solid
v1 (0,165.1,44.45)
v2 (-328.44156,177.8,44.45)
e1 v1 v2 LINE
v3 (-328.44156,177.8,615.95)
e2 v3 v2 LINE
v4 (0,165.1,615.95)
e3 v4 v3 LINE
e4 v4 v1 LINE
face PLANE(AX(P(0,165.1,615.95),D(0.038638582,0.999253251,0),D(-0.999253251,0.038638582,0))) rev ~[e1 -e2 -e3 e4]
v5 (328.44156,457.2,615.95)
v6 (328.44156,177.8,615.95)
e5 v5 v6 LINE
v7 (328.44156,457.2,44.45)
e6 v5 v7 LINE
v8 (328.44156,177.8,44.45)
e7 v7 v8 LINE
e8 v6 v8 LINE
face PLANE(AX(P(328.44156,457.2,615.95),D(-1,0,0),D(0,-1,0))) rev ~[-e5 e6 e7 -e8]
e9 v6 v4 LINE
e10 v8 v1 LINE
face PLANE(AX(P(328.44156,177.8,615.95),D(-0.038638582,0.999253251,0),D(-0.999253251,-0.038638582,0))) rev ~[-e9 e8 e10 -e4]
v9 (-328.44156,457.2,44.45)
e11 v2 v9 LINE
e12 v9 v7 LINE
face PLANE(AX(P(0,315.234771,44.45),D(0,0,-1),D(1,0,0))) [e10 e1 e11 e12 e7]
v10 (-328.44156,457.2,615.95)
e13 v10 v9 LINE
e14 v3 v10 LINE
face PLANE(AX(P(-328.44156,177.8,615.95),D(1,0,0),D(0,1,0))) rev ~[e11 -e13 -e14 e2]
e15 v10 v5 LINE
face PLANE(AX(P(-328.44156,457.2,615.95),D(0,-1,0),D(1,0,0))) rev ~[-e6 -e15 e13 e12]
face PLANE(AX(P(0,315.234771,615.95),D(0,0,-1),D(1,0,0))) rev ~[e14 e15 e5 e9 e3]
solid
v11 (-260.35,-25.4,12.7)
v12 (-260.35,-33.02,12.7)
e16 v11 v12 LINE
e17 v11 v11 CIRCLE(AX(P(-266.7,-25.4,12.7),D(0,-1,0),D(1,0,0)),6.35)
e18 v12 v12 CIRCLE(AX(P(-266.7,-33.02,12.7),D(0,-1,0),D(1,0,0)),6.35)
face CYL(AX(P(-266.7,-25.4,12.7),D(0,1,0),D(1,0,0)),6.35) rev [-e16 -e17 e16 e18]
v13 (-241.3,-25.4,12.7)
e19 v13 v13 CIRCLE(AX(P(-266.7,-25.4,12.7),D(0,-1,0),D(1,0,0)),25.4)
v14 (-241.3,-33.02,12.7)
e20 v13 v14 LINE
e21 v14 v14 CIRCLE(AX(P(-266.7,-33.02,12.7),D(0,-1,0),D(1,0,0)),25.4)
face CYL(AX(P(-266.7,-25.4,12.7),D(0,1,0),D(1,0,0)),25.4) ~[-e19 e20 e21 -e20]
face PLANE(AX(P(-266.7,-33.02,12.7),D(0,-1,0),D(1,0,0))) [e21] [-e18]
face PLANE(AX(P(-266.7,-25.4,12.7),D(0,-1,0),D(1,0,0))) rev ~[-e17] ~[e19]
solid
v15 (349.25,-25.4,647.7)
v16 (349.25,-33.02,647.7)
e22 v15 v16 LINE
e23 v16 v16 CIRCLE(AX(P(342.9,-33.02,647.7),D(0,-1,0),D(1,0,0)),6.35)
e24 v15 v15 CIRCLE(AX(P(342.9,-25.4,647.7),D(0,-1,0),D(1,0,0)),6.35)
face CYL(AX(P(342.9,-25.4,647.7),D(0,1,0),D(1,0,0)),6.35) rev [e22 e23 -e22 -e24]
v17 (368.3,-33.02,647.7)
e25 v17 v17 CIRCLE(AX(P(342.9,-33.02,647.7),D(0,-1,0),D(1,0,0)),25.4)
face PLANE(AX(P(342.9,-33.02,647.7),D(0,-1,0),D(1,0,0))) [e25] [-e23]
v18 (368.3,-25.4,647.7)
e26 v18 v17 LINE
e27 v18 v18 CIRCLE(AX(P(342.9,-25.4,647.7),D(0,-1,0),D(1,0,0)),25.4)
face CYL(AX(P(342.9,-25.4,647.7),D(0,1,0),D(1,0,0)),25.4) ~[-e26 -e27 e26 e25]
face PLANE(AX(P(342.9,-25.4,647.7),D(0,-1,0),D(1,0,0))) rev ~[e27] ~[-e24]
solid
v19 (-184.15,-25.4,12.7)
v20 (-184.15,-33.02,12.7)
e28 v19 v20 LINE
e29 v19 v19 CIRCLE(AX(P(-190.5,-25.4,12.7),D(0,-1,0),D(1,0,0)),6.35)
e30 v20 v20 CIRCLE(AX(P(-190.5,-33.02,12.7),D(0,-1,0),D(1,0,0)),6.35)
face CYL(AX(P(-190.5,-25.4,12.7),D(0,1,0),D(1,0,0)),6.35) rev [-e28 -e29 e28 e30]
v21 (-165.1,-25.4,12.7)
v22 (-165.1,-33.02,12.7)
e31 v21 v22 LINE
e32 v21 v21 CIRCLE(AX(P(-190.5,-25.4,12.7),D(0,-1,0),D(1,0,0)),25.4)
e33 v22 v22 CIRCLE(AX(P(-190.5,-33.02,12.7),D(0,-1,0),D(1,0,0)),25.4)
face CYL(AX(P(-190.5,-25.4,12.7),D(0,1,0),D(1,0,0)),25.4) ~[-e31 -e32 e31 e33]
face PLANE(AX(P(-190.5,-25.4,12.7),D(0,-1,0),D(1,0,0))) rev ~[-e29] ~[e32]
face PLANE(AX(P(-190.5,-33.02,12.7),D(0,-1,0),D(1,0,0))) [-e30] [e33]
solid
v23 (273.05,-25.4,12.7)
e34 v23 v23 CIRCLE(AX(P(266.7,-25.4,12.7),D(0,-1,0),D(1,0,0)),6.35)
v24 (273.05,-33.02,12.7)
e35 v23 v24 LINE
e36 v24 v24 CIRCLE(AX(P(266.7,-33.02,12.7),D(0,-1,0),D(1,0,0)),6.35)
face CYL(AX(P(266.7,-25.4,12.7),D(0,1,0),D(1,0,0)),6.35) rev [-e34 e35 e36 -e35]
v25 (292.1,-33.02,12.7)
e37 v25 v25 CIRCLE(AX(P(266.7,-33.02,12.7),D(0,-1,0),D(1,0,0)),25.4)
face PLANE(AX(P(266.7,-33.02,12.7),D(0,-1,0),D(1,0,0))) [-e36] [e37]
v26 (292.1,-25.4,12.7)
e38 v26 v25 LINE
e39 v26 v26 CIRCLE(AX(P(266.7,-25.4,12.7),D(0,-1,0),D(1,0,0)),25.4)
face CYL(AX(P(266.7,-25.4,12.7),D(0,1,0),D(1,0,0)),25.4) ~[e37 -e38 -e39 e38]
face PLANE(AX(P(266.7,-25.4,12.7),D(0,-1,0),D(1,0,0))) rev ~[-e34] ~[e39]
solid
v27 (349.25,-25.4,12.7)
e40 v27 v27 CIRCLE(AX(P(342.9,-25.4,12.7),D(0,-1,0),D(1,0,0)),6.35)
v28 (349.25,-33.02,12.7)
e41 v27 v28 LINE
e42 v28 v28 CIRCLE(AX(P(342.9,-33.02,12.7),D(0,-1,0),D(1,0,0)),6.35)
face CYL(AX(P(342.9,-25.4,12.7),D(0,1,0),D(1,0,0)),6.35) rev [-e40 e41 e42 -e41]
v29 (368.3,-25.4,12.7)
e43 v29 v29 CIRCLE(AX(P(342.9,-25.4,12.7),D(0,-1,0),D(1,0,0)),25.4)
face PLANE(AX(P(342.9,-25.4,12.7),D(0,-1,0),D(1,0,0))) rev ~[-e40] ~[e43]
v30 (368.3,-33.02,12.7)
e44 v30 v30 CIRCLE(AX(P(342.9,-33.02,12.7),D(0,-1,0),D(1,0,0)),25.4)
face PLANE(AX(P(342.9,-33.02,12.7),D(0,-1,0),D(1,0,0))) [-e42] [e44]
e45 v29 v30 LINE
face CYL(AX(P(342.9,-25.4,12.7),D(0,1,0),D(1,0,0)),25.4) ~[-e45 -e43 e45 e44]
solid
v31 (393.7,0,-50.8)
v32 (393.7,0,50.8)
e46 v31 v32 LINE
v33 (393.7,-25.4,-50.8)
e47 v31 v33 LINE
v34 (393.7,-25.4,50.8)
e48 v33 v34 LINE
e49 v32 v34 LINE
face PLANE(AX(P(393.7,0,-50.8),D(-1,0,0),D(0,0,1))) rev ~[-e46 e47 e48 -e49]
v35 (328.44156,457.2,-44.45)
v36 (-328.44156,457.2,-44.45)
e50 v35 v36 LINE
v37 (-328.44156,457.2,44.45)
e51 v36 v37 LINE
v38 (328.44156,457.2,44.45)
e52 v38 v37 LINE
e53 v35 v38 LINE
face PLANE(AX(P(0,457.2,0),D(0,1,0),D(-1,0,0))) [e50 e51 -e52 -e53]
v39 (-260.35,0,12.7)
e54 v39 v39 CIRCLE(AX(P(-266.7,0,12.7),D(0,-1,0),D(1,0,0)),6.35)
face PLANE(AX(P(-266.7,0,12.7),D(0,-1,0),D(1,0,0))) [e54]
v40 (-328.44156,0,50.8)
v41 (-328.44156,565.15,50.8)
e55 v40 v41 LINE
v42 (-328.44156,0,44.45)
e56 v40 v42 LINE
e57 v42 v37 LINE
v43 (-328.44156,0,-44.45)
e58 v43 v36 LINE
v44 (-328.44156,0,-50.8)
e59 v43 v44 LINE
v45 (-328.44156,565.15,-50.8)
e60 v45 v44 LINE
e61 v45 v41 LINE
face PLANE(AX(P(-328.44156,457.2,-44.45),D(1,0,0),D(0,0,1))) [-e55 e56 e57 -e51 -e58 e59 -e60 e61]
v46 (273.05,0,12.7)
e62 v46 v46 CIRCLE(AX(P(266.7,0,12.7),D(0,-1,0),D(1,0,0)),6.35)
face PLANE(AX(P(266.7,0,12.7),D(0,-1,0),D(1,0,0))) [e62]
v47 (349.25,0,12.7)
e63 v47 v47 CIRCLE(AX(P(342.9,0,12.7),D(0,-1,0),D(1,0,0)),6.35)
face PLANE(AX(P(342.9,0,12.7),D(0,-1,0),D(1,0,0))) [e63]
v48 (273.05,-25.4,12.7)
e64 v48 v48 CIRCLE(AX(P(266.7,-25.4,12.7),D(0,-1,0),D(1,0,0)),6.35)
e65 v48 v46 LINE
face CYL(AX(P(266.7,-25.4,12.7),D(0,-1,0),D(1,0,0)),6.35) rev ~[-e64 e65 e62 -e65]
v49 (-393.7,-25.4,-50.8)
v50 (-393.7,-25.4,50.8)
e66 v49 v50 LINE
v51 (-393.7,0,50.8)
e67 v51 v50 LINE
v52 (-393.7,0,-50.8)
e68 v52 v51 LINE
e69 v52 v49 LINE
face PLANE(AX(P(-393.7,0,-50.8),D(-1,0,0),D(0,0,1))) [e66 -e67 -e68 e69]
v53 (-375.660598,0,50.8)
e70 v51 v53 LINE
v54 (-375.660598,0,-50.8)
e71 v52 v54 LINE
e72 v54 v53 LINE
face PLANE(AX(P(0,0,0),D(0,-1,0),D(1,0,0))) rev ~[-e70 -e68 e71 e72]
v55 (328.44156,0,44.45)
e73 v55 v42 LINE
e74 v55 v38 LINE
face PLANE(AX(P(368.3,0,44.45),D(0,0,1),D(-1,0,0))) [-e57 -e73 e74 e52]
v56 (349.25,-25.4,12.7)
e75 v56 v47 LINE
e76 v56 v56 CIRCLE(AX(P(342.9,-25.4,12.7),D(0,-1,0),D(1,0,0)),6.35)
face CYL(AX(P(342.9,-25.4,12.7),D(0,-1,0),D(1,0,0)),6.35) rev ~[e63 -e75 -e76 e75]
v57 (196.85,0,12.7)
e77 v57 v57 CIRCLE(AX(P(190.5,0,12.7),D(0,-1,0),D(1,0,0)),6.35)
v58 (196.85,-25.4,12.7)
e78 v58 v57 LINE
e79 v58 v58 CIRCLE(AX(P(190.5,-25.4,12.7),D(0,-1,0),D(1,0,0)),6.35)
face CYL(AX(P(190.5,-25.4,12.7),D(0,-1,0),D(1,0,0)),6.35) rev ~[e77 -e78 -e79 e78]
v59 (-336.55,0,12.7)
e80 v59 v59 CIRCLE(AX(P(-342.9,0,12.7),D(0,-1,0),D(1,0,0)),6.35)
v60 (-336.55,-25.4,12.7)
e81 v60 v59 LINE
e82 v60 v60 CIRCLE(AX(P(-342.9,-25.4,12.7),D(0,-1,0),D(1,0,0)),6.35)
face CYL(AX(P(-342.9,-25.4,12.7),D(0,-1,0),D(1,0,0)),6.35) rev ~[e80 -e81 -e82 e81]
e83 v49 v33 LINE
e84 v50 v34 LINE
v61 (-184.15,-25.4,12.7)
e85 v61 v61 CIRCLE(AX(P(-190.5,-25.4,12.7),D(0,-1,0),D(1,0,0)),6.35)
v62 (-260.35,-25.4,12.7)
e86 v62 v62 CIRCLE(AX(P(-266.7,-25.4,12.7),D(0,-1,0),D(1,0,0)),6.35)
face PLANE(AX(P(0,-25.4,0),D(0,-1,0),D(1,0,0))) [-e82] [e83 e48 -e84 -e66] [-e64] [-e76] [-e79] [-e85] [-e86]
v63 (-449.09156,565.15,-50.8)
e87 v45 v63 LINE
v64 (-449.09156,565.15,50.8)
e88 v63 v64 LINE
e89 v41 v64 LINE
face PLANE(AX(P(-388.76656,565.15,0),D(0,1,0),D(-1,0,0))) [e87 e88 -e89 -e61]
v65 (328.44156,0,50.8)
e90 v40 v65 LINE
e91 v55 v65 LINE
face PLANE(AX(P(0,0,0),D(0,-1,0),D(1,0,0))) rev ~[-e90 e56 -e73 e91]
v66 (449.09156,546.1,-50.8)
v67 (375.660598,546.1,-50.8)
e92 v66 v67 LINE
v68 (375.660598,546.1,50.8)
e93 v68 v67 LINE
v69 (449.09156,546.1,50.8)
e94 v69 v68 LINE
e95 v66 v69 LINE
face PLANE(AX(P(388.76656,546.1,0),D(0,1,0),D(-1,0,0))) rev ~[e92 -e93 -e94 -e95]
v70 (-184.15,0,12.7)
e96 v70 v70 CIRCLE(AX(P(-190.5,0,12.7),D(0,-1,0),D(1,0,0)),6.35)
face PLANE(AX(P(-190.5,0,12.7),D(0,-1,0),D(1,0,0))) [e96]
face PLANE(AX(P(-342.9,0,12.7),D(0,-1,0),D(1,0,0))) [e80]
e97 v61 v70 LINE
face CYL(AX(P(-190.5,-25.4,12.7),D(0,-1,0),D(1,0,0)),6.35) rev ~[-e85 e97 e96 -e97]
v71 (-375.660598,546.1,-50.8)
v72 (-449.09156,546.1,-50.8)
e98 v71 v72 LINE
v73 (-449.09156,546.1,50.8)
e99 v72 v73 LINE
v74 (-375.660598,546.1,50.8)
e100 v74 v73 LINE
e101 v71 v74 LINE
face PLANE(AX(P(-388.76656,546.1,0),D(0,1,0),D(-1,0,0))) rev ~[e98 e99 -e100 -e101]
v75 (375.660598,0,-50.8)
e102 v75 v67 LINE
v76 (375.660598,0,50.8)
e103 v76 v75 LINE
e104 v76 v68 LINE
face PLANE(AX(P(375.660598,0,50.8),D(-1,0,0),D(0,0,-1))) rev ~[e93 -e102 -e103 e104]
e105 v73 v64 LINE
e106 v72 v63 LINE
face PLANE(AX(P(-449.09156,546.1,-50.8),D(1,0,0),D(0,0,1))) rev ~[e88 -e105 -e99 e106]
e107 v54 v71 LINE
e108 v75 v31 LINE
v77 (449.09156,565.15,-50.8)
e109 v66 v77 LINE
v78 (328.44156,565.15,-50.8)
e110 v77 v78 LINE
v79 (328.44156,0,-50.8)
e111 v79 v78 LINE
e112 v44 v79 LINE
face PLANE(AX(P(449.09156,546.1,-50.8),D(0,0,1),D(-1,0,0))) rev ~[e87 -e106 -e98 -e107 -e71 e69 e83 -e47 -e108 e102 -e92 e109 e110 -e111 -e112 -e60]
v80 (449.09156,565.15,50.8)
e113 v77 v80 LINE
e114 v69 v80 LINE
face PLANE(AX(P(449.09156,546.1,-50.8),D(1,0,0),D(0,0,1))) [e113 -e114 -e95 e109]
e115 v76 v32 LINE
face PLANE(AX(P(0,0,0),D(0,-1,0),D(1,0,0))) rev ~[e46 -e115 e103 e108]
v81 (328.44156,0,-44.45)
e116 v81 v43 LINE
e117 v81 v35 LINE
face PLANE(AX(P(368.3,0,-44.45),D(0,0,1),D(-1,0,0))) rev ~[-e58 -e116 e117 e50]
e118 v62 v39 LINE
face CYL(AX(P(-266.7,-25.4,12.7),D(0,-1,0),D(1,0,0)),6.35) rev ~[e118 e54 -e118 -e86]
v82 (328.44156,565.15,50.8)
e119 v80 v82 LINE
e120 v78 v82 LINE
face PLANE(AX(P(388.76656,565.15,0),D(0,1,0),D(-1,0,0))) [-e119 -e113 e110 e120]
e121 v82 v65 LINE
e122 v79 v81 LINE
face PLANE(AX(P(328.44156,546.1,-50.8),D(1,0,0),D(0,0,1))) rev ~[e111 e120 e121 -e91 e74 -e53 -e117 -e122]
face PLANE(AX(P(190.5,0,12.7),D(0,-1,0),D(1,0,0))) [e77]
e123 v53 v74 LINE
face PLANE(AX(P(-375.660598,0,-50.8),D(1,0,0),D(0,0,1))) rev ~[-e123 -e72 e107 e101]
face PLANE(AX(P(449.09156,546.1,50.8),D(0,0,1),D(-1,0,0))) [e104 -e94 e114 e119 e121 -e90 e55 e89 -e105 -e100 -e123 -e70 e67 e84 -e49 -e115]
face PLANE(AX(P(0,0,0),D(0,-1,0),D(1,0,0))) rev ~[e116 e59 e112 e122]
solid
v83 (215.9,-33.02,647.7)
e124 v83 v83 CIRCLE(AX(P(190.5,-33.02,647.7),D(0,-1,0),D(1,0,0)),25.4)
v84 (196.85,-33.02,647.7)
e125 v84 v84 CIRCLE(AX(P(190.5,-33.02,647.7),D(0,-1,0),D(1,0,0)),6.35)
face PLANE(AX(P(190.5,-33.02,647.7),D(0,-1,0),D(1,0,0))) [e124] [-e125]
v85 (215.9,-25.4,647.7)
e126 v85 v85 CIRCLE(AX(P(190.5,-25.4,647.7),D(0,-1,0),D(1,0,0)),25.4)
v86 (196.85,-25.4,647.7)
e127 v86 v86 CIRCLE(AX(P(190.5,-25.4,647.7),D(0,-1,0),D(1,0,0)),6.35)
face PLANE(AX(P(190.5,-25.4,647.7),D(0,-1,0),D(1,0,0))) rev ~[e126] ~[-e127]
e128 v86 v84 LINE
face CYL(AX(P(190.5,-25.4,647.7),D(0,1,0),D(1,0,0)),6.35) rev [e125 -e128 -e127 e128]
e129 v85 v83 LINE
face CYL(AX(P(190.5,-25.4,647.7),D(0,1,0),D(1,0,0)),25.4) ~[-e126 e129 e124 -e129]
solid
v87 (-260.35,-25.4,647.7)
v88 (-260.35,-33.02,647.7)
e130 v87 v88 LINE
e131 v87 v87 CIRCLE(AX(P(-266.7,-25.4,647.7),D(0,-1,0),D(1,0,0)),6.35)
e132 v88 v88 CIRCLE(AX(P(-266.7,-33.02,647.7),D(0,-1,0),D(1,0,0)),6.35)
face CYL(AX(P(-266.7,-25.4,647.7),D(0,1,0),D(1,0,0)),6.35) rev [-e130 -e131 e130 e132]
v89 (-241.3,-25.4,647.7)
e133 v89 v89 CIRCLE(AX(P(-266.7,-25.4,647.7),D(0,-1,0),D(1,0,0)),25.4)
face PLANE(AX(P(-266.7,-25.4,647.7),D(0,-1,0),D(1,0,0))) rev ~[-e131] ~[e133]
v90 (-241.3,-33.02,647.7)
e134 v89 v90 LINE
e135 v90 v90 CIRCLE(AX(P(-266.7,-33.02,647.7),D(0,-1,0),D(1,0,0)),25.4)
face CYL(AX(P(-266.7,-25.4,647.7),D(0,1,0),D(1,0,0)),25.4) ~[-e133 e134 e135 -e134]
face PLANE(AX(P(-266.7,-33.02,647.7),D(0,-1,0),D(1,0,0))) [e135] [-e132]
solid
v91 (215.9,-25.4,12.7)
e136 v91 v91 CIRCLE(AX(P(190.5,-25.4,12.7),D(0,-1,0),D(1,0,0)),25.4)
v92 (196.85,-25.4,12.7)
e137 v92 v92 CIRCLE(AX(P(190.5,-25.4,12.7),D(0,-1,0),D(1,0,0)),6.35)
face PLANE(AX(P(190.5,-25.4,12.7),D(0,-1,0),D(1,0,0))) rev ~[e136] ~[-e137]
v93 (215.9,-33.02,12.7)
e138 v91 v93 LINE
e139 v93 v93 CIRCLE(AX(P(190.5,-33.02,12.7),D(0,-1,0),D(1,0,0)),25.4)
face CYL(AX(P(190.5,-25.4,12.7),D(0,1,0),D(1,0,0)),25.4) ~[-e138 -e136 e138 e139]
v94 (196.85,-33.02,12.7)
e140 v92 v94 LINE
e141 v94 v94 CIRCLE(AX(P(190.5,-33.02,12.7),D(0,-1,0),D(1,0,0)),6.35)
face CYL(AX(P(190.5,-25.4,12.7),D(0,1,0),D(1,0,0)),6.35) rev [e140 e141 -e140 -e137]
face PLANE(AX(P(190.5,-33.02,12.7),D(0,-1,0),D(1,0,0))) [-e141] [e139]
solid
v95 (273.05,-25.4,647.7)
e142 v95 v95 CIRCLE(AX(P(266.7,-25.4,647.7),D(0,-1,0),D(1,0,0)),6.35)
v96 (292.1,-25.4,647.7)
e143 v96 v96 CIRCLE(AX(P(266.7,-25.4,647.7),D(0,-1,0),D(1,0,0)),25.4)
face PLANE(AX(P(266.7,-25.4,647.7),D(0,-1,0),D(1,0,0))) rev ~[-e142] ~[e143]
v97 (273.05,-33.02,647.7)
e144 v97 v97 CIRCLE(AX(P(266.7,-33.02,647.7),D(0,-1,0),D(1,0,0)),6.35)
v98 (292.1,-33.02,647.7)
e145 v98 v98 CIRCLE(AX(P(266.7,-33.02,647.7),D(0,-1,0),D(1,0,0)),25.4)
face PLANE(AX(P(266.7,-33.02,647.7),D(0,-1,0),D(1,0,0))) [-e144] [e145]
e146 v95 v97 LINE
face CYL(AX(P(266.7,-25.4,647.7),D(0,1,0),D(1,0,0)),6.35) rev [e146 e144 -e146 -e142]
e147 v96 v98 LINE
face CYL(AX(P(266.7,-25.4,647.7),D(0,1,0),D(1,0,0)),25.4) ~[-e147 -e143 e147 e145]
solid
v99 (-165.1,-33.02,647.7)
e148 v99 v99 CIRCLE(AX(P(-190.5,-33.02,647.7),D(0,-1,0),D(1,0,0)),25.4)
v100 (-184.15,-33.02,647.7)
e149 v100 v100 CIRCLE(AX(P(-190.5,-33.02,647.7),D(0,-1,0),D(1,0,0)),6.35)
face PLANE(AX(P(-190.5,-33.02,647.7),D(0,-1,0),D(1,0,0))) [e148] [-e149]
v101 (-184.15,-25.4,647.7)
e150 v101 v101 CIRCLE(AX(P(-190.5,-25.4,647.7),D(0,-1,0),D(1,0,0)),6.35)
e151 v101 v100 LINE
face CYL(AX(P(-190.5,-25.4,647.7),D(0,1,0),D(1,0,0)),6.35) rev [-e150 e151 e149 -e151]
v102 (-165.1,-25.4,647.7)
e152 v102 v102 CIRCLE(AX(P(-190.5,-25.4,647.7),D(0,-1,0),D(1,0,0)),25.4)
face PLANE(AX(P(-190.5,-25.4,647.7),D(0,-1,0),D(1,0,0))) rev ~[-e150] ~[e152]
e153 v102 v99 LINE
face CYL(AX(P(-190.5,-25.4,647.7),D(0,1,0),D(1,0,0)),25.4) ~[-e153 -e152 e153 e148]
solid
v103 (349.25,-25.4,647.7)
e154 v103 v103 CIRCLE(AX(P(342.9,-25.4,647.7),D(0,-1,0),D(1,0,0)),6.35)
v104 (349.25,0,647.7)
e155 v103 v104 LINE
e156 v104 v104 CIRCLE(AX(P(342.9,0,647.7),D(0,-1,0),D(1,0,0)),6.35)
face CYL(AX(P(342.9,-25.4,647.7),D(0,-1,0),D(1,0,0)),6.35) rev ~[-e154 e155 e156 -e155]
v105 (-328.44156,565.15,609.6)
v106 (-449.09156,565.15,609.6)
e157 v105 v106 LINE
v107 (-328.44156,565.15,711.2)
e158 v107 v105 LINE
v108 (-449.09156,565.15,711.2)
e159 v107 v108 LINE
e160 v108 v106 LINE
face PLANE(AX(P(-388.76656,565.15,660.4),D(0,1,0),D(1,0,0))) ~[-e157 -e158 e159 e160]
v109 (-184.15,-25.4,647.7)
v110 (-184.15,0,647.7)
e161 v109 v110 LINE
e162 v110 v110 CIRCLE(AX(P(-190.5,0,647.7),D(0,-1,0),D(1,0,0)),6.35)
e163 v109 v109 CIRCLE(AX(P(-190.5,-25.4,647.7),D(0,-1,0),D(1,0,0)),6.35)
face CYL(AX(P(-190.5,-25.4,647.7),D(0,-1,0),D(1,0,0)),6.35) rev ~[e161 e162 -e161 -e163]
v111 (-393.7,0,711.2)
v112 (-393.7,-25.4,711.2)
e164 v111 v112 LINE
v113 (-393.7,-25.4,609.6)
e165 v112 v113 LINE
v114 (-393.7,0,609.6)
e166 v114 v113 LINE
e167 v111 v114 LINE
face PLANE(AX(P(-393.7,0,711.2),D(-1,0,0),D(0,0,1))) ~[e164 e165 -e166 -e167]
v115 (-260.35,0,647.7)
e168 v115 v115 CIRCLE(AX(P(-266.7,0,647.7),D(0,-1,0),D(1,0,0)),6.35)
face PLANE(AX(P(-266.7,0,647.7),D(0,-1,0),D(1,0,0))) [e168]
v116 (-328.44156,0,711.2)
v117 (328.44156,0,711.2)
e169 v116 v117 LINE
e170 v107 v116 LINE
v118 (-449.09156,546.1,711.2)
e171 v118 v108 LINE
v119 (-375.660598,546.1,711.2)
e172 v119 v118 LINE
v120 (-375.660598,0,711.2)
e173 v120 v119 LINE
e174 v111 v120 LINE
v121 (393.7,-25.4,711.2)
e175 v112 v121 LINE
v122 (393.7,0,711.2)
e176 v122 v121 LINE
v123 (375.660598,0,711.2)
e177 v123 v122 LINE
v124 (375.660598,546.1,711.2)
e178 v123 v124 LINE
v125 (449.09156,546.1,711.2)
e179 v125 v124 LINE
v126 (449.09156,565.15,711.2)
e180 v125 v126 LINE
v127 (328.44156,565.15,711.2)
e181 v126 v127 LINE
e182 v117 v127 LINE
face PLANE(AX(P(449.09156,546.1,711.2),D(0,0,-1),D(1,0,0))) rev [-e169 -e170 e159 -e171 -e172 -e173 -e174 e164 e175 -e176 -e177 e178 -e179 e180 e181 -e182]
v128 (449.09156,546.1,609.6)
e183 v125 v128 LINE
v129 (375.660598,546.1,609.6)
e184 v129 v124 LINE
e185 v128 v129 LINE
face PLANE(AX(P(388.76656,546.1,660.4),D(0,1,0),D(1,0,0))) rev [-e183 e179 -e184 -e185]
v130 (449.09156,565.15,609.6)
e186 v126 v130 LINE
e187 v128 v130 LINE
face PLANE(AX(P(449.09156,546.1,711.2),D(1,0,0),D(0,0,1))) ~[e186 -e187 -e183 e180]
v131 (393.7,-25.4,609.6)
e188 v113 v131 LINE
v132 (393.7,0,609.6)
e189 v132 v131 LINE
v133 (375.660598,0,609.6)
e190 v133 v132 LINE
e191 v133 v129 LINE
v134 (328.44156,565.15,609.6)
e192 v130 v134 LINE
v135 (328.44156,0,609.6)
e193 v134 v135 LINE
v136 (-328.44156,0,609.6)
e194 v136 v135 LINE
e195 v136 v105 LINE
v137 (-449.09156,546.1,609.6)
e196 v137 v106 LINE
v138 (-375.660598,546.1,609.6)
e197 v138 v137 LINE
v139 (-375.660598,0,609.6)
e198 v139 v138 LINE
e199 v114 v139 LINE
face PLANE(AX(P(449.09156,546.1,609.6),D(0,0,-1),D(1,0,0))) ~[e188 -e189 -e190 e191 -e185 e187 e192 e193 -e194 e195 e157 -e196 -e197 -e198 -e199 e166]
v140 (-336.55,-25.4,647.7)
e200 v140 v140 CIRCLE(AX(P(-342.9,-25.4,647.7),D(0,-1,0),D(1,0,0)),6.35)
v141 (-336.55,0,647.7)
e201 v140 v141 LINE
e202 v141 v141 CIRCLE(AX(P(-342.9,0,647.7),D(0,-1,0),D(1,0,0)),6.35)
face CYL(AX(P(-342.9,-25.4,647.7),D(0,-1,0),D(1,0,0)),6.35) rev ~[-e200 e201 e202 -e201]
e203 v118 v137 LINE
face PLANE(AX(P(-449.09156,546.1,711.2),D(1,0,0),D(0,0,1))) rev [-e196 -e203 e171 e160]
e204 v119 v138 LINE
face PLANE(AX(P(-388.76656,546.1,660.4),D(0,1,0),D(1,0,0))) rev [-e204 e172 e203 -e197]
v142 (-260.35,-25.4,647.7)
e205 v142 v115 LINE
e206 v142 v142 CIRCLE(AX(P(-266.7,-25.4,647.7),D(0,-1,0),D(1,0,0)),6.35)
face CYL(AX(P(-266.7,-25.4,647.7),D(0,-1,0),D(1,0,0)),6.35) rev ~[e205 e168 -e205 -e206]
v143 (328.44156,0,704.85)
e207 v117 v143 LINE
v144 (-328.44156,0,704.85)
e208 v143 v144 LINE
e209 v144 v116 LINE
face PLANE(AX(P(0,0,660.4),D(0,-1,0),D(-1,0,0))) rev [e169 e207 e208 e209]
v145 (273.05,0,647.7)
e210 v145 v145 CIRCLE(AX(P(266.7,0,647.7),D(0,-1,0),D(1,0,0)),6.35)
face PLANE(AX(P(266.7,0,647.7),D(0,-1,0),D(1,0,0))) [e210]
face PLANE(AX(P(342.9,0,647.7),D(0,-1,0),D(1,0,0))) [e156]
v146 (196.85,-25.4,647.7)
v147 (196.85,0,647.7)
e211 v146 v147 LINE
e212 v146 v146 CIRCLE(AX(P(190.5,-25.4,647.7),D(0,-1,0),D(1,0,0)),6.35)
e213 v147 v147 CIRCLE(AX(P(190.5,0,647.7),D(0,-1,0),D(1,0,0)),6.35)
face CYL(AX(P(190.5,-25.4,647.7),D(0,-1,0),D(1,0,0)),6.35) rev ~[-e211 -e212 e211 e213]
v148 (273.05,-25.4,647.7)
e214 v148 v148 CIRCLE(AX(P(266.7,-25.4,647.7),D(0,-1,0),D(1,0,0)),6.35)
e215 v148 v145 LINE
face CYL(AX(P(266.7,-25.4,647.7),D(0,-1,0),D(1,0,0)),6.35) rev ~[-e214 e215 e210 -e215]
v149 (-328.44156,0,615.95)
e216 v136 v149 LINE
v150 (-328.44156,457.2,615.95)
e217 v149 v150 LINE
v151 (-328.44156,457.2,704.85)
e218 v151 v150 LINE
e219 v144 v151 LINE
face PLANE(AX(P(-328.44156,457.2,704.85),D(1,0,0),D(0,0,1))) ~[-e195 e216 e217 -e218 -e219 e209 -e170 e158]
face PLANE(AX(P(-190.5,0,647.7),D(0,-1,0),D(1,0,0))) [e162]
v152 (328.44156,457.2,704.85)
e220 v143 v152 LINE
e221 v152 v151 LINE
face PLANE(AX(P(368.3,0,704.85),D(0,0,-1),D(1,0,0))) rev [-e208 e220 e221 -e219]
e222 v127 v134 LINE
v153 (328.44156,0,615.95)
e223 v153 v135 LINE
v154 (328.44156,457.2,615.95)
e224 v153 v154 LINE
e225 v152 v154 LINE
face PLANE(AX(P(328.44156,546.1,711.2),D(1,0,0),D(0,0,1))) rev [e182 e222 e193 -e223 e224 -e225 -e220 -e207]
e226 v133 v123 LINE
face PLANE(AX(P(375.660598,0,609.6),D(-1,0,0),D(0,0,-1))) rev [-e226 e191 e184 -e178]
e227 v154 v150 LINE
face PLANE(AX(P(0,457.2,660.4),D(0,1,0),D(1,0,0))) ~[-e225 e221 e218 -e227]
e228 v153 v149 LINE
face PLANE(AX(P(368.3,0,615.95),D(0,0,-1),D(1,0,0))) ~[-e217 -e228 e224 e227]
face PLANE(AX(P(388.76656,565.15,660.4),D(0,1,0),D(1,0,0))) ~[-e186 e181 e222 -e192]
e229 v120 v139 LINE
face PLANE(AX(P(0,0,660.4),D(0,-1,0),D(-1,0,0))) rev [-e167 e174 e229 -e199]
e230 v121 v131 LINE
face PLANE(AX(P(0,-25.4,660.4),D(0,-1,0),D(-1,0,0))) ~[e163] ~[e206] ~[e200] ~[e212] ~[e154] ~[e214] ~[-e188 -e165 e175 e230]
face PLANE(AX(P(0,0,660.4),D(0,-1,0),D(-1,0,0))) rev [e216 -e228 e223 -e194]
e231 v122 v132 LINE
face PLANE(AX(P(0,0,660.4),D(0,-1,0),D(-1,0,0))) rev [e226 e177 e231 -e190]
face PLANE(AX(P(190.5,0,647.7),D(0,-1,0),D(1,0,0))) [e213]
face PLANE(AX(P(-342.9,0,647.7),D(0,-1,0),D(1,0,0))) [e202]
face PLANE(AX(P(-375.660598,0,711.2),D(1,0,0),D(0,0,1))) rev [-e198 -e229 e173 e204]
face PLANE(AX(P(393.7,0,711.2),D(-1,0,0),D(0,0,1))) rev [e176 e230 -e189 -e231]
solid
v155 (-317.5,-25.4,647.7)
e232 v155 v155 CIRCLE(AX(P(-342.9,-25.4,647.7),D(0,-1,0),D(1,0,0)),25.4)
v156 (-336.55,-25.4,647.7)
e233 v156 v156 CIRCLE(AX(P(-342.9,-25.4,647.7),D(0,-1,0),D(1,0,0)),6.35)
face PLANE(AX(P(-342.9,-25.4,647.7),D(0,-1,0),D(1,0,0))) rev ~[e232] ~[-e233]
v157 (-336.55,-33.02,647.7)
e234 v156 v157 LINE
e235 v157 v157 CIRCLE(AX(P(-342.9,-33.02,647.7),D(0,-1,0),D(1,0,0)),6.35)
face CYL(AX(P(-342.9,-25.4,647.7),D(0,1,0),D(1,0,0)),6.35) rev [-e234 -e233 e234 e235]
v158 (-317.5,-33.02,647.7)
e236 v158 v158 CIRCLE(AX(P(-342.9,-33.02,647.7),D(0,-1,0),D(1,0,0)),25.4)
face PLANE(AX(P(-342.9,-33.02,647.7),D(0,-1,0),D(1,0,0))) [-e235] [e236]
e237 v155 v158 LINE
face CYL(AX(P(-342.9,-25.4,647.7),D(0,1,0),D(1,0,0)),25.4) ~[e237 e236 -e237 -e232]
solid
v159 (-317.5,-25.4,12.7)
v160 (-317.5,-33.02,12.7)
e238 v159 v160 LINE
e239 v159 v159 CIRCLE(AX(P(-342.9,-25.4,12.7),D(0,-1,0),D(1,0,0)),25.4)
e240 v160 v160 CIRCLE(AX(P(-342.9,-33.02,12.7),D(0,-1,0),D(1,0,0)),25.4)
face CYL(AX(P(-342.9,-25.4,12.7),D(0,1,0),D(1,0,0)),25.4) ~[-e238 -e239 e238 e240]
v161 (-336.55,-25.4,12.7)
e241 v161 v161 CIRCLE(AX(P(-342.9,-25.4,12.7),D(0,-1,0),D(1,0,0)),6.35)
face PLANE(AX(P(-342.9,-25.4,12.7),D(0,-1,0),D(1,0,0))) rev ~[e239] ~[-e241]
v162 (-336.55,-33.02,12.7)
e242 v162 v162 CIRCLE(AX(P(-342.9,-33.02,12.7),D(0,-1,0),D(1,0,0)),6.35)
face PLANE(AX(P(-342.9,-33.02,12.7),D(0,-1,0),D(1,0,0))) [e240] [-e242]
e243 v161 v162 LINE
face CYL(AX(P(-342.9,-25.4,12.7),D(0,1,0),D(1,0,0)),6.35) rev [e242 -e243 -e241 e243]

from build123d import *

# Parameters (mm, degrees)
F0_W      = 787.4
F0_H      = 101.6
F1_DEPTH  = 25.4
F2_W      = 736.6
F2_H      = 88.9
F3_DEPTH  = 457.2
F5_DEPTH  = 546.1
F6_W      = 39.85844
F6_H      = 88.9
F7_DEPTH  = 88.9
F8_W      = 120.65
F8_H      = 101.6
F9_DEPTH  = 19.05
F13_DEPTH = 571.5
F14_R     = 6.35
F15_DEPTH = 25.4
F16_R     = 25.4
F16_R_2   = 6.35
F17_DEPTH = 7.62


with BuildPart() as f1:
    # F0 (on Front) → F1 (new body)
    with BuildSketch(Plane.XZ):
        Rectangle(F0_W, F0_H)
    extrude(amount=F1_DEPTH)

    # F2 (on face) → F3 (join)
    with BuildSketch(Plane(origin=(0, 0, 0), x_dir=(-1, 0, 0), z_dir=(0, 1, 0))):
        Rectangle(F2_W, F2_H)
    extrude(amount=F3_DEPTH)

    # F4 (on face) → F5 (join)
    with BuildSketch(Plane(origin=(0, 0, 0), x_dir=(-1, 0, 0), z_dir=(0, 1, 0))):
        Polygon((368.3, -44.45), (328.44156, -44.45), (328.44156, -50.8), (375.660598, -50.8), (375.660598, 50.8), (328.44156, 50.8), (328.44156, 44.45), (368.3, 44.45), align=None)
        Polygon((-375.660598, -50.8), (-328.44156, -50.8), (-328.44156, -44.45), (-368.3, -44.45), (-368.3, 44.45), (-328.44156, 44.45), (-328.44156, 50.8), (-375.660598, 50.8), align=None)
    extrude(amount=F5_DEPTH)

    # F6 (on face) → F7 (join, through all)
    with BuildSketch(Plane(origin=(0, 457.2, 0), x_dir=(-1, 0, 0), z_dir=(0, 1, 0))):
        with Locations((-348.37078, 0)):
            Rectangle(F6_W, F6_H)
        with Locations((348.37078, 0)):
            Rectangle(F6_W, F6_H)
    extrude(amount=F7_DEPTH)

    # F8 (on face) → F9 (join)
    with BuildSketch(Plane(origin=(0, 546.1, 0), x_dir=(-1, 0, 0), z_dir=(0, 1, 0))):
        with Locations((-388.76656, 0)):
            Rectangle(F8_W, F8_H)
        with Locations((388.76656, 0)):
            Rectangle(F8_W, F8_H)
    extrude(amount=F9_DEPTH)


with BuildPart() as f11_1:
    # F11: instance of F1
    add(f1.part.mirror(Plane.XY.offset(330.2)))


with BuildPart() as f13:
    # F12 (on face) → F13 (new body, through all)
    with BuildSketch(Plane(origin=(0, 0, 615.95), x_dir=(1, 0, 0), z_dir=(0, 0, -1))):
        Polygon((-328.44156, -177.8), (-328.44156, -457.2), (328.44156, -457.2), (328.44156, -177.8), (0, -165.1), align=None)
    extrude(amount=F13_DEPTH)


with BuildPart() as f15_tool:
    # F14 (on face) → F15 (new body)
    with BuildSketch(Plane.XZ.offset(25.4)):
        with Locations((190.5, 12.7)):
            Circle(F14_R)
        with Locations((266.7, 12.7)):
            Circle(F14_R)
        with Locations((342.9, 12.7)):
            Circle(F14_R)
        with Locations((190.5, 647.7)):
            Circle(F14_R)
        with Locations((266.7, 647.7)):
            Circle(F14_R)
        with Locations((342.9, 647.7)):
            Circle(F14_R)
        with Locations((-190.5, 647.7)):
            Circle(F14_R)
        with Locations((-266.7, 647.7)):
            Circle(F14_R)
        with Locations((-342.9, 647.7)):
            Circle(F14_R)
        with Locations((-190.5, 12.7)):
            Circle(F14_R)
        with Locations((-266.7, 12.7)):
            Circle(F14_R)
        with Locations((-342.9, 12.7)):
            Circle(F14_R)
    extrude(amount=-F15_DEPTH)


with BuildPart() as f1_1:
    add(f1.part)

    # F15: cut by f15_tool
    add(f15_tool.part, mode=Mode.SUBTRACT)


with BuildPart() as f11_1_1:
    add(f11_1.part)

    # F15: cut by f15_tool
    add(f15_tool.part, mode=Mode.SUBTRACT)


with BuildPart() as f17:
    # F16 (on face) → F17 (new body)
    with BuildSketch(Plane.XZ.offset(25.4)):
        with Locations((190.5, 12.7)):
            Circle(F16_R)
        with Locations((190.5, 12.7)):
            Circle(F16_R_2, mode=Mode.SUBTRACT)
        with Locations((266.7, 12.7)):
            Circle(F16_R)
        with Locations((266.7, 12.7)):
            Circle(F16_R_2, mode=Mode.SUBTRACT)
        with Locations((342.9, 12.7)):
            Circle(F16_R)
        with Locations((342.9, 12.7)):
            Circle(F16_R_2, mode=Mode.SUBTRACT)
        with Locations((190.5, 647.7)):
            Circle(F16_R)
        with Locations((190.5, 647.7)):
            Circle(F16_R_2, mode=Mode.SUBTRACT)
        with Locations((266.7, 647.7)):
            Circle(F16_R)
        with Locations((266.7, 647.7)):
            Circle(F16_R_2, mode=Mode.SUBTRACT)
        with Locations((342.9, 647.7)):
            Circle(F16_R)
        with Locations((342.9, 647.7)):
            Circle(F16_R_2, mode=Mode.SUBTRACT)
        with Locations((-190.5, 647.7)):
            Circle(F16_R)
        with Locations((-190.5, 647.7)):
            Circle(F16_R_2, mode=Mode.SUBTRACT)
        with Locations((-266.7, 647.7)):
            Circle(F16_R)
        with Locations((-266.7, 647.7)):
            Circle(F16_R_2, mode=Mode.SUBTRACT)
        with Locations((-342.9, 647.7)):
            Circle(F16_R)
        with Locations((-342.9, 647.7)):
            Circle(F16_R_2, mode=Mode.SUBTRACT)
        with Locations((-190.5, 12.7)):
            Circle(F16_R)
        with Locations((-190.5, 12.7)):
            Circle(F16_R_2, mode=Mode.SUBTRACT)
        with Locations((-266.7, 12.7)):
            Circle(F16_R)
        with Locations((-266.7, 12.7)):
            Circle(F16_R_2, mode=Mode.SUBTRACT)
        with Locations((-342.9, 12.7)):
            Circle(F16_R)
        with Locations((-342.9, 12.7)):
            Circle(F16_R_2, mode=Mode.SUBTRACT)
    extrude(amount=F17_DEPTH)


solid = Compound([f13.part, f1_1.part, f11_1_1.part, f17.part])
